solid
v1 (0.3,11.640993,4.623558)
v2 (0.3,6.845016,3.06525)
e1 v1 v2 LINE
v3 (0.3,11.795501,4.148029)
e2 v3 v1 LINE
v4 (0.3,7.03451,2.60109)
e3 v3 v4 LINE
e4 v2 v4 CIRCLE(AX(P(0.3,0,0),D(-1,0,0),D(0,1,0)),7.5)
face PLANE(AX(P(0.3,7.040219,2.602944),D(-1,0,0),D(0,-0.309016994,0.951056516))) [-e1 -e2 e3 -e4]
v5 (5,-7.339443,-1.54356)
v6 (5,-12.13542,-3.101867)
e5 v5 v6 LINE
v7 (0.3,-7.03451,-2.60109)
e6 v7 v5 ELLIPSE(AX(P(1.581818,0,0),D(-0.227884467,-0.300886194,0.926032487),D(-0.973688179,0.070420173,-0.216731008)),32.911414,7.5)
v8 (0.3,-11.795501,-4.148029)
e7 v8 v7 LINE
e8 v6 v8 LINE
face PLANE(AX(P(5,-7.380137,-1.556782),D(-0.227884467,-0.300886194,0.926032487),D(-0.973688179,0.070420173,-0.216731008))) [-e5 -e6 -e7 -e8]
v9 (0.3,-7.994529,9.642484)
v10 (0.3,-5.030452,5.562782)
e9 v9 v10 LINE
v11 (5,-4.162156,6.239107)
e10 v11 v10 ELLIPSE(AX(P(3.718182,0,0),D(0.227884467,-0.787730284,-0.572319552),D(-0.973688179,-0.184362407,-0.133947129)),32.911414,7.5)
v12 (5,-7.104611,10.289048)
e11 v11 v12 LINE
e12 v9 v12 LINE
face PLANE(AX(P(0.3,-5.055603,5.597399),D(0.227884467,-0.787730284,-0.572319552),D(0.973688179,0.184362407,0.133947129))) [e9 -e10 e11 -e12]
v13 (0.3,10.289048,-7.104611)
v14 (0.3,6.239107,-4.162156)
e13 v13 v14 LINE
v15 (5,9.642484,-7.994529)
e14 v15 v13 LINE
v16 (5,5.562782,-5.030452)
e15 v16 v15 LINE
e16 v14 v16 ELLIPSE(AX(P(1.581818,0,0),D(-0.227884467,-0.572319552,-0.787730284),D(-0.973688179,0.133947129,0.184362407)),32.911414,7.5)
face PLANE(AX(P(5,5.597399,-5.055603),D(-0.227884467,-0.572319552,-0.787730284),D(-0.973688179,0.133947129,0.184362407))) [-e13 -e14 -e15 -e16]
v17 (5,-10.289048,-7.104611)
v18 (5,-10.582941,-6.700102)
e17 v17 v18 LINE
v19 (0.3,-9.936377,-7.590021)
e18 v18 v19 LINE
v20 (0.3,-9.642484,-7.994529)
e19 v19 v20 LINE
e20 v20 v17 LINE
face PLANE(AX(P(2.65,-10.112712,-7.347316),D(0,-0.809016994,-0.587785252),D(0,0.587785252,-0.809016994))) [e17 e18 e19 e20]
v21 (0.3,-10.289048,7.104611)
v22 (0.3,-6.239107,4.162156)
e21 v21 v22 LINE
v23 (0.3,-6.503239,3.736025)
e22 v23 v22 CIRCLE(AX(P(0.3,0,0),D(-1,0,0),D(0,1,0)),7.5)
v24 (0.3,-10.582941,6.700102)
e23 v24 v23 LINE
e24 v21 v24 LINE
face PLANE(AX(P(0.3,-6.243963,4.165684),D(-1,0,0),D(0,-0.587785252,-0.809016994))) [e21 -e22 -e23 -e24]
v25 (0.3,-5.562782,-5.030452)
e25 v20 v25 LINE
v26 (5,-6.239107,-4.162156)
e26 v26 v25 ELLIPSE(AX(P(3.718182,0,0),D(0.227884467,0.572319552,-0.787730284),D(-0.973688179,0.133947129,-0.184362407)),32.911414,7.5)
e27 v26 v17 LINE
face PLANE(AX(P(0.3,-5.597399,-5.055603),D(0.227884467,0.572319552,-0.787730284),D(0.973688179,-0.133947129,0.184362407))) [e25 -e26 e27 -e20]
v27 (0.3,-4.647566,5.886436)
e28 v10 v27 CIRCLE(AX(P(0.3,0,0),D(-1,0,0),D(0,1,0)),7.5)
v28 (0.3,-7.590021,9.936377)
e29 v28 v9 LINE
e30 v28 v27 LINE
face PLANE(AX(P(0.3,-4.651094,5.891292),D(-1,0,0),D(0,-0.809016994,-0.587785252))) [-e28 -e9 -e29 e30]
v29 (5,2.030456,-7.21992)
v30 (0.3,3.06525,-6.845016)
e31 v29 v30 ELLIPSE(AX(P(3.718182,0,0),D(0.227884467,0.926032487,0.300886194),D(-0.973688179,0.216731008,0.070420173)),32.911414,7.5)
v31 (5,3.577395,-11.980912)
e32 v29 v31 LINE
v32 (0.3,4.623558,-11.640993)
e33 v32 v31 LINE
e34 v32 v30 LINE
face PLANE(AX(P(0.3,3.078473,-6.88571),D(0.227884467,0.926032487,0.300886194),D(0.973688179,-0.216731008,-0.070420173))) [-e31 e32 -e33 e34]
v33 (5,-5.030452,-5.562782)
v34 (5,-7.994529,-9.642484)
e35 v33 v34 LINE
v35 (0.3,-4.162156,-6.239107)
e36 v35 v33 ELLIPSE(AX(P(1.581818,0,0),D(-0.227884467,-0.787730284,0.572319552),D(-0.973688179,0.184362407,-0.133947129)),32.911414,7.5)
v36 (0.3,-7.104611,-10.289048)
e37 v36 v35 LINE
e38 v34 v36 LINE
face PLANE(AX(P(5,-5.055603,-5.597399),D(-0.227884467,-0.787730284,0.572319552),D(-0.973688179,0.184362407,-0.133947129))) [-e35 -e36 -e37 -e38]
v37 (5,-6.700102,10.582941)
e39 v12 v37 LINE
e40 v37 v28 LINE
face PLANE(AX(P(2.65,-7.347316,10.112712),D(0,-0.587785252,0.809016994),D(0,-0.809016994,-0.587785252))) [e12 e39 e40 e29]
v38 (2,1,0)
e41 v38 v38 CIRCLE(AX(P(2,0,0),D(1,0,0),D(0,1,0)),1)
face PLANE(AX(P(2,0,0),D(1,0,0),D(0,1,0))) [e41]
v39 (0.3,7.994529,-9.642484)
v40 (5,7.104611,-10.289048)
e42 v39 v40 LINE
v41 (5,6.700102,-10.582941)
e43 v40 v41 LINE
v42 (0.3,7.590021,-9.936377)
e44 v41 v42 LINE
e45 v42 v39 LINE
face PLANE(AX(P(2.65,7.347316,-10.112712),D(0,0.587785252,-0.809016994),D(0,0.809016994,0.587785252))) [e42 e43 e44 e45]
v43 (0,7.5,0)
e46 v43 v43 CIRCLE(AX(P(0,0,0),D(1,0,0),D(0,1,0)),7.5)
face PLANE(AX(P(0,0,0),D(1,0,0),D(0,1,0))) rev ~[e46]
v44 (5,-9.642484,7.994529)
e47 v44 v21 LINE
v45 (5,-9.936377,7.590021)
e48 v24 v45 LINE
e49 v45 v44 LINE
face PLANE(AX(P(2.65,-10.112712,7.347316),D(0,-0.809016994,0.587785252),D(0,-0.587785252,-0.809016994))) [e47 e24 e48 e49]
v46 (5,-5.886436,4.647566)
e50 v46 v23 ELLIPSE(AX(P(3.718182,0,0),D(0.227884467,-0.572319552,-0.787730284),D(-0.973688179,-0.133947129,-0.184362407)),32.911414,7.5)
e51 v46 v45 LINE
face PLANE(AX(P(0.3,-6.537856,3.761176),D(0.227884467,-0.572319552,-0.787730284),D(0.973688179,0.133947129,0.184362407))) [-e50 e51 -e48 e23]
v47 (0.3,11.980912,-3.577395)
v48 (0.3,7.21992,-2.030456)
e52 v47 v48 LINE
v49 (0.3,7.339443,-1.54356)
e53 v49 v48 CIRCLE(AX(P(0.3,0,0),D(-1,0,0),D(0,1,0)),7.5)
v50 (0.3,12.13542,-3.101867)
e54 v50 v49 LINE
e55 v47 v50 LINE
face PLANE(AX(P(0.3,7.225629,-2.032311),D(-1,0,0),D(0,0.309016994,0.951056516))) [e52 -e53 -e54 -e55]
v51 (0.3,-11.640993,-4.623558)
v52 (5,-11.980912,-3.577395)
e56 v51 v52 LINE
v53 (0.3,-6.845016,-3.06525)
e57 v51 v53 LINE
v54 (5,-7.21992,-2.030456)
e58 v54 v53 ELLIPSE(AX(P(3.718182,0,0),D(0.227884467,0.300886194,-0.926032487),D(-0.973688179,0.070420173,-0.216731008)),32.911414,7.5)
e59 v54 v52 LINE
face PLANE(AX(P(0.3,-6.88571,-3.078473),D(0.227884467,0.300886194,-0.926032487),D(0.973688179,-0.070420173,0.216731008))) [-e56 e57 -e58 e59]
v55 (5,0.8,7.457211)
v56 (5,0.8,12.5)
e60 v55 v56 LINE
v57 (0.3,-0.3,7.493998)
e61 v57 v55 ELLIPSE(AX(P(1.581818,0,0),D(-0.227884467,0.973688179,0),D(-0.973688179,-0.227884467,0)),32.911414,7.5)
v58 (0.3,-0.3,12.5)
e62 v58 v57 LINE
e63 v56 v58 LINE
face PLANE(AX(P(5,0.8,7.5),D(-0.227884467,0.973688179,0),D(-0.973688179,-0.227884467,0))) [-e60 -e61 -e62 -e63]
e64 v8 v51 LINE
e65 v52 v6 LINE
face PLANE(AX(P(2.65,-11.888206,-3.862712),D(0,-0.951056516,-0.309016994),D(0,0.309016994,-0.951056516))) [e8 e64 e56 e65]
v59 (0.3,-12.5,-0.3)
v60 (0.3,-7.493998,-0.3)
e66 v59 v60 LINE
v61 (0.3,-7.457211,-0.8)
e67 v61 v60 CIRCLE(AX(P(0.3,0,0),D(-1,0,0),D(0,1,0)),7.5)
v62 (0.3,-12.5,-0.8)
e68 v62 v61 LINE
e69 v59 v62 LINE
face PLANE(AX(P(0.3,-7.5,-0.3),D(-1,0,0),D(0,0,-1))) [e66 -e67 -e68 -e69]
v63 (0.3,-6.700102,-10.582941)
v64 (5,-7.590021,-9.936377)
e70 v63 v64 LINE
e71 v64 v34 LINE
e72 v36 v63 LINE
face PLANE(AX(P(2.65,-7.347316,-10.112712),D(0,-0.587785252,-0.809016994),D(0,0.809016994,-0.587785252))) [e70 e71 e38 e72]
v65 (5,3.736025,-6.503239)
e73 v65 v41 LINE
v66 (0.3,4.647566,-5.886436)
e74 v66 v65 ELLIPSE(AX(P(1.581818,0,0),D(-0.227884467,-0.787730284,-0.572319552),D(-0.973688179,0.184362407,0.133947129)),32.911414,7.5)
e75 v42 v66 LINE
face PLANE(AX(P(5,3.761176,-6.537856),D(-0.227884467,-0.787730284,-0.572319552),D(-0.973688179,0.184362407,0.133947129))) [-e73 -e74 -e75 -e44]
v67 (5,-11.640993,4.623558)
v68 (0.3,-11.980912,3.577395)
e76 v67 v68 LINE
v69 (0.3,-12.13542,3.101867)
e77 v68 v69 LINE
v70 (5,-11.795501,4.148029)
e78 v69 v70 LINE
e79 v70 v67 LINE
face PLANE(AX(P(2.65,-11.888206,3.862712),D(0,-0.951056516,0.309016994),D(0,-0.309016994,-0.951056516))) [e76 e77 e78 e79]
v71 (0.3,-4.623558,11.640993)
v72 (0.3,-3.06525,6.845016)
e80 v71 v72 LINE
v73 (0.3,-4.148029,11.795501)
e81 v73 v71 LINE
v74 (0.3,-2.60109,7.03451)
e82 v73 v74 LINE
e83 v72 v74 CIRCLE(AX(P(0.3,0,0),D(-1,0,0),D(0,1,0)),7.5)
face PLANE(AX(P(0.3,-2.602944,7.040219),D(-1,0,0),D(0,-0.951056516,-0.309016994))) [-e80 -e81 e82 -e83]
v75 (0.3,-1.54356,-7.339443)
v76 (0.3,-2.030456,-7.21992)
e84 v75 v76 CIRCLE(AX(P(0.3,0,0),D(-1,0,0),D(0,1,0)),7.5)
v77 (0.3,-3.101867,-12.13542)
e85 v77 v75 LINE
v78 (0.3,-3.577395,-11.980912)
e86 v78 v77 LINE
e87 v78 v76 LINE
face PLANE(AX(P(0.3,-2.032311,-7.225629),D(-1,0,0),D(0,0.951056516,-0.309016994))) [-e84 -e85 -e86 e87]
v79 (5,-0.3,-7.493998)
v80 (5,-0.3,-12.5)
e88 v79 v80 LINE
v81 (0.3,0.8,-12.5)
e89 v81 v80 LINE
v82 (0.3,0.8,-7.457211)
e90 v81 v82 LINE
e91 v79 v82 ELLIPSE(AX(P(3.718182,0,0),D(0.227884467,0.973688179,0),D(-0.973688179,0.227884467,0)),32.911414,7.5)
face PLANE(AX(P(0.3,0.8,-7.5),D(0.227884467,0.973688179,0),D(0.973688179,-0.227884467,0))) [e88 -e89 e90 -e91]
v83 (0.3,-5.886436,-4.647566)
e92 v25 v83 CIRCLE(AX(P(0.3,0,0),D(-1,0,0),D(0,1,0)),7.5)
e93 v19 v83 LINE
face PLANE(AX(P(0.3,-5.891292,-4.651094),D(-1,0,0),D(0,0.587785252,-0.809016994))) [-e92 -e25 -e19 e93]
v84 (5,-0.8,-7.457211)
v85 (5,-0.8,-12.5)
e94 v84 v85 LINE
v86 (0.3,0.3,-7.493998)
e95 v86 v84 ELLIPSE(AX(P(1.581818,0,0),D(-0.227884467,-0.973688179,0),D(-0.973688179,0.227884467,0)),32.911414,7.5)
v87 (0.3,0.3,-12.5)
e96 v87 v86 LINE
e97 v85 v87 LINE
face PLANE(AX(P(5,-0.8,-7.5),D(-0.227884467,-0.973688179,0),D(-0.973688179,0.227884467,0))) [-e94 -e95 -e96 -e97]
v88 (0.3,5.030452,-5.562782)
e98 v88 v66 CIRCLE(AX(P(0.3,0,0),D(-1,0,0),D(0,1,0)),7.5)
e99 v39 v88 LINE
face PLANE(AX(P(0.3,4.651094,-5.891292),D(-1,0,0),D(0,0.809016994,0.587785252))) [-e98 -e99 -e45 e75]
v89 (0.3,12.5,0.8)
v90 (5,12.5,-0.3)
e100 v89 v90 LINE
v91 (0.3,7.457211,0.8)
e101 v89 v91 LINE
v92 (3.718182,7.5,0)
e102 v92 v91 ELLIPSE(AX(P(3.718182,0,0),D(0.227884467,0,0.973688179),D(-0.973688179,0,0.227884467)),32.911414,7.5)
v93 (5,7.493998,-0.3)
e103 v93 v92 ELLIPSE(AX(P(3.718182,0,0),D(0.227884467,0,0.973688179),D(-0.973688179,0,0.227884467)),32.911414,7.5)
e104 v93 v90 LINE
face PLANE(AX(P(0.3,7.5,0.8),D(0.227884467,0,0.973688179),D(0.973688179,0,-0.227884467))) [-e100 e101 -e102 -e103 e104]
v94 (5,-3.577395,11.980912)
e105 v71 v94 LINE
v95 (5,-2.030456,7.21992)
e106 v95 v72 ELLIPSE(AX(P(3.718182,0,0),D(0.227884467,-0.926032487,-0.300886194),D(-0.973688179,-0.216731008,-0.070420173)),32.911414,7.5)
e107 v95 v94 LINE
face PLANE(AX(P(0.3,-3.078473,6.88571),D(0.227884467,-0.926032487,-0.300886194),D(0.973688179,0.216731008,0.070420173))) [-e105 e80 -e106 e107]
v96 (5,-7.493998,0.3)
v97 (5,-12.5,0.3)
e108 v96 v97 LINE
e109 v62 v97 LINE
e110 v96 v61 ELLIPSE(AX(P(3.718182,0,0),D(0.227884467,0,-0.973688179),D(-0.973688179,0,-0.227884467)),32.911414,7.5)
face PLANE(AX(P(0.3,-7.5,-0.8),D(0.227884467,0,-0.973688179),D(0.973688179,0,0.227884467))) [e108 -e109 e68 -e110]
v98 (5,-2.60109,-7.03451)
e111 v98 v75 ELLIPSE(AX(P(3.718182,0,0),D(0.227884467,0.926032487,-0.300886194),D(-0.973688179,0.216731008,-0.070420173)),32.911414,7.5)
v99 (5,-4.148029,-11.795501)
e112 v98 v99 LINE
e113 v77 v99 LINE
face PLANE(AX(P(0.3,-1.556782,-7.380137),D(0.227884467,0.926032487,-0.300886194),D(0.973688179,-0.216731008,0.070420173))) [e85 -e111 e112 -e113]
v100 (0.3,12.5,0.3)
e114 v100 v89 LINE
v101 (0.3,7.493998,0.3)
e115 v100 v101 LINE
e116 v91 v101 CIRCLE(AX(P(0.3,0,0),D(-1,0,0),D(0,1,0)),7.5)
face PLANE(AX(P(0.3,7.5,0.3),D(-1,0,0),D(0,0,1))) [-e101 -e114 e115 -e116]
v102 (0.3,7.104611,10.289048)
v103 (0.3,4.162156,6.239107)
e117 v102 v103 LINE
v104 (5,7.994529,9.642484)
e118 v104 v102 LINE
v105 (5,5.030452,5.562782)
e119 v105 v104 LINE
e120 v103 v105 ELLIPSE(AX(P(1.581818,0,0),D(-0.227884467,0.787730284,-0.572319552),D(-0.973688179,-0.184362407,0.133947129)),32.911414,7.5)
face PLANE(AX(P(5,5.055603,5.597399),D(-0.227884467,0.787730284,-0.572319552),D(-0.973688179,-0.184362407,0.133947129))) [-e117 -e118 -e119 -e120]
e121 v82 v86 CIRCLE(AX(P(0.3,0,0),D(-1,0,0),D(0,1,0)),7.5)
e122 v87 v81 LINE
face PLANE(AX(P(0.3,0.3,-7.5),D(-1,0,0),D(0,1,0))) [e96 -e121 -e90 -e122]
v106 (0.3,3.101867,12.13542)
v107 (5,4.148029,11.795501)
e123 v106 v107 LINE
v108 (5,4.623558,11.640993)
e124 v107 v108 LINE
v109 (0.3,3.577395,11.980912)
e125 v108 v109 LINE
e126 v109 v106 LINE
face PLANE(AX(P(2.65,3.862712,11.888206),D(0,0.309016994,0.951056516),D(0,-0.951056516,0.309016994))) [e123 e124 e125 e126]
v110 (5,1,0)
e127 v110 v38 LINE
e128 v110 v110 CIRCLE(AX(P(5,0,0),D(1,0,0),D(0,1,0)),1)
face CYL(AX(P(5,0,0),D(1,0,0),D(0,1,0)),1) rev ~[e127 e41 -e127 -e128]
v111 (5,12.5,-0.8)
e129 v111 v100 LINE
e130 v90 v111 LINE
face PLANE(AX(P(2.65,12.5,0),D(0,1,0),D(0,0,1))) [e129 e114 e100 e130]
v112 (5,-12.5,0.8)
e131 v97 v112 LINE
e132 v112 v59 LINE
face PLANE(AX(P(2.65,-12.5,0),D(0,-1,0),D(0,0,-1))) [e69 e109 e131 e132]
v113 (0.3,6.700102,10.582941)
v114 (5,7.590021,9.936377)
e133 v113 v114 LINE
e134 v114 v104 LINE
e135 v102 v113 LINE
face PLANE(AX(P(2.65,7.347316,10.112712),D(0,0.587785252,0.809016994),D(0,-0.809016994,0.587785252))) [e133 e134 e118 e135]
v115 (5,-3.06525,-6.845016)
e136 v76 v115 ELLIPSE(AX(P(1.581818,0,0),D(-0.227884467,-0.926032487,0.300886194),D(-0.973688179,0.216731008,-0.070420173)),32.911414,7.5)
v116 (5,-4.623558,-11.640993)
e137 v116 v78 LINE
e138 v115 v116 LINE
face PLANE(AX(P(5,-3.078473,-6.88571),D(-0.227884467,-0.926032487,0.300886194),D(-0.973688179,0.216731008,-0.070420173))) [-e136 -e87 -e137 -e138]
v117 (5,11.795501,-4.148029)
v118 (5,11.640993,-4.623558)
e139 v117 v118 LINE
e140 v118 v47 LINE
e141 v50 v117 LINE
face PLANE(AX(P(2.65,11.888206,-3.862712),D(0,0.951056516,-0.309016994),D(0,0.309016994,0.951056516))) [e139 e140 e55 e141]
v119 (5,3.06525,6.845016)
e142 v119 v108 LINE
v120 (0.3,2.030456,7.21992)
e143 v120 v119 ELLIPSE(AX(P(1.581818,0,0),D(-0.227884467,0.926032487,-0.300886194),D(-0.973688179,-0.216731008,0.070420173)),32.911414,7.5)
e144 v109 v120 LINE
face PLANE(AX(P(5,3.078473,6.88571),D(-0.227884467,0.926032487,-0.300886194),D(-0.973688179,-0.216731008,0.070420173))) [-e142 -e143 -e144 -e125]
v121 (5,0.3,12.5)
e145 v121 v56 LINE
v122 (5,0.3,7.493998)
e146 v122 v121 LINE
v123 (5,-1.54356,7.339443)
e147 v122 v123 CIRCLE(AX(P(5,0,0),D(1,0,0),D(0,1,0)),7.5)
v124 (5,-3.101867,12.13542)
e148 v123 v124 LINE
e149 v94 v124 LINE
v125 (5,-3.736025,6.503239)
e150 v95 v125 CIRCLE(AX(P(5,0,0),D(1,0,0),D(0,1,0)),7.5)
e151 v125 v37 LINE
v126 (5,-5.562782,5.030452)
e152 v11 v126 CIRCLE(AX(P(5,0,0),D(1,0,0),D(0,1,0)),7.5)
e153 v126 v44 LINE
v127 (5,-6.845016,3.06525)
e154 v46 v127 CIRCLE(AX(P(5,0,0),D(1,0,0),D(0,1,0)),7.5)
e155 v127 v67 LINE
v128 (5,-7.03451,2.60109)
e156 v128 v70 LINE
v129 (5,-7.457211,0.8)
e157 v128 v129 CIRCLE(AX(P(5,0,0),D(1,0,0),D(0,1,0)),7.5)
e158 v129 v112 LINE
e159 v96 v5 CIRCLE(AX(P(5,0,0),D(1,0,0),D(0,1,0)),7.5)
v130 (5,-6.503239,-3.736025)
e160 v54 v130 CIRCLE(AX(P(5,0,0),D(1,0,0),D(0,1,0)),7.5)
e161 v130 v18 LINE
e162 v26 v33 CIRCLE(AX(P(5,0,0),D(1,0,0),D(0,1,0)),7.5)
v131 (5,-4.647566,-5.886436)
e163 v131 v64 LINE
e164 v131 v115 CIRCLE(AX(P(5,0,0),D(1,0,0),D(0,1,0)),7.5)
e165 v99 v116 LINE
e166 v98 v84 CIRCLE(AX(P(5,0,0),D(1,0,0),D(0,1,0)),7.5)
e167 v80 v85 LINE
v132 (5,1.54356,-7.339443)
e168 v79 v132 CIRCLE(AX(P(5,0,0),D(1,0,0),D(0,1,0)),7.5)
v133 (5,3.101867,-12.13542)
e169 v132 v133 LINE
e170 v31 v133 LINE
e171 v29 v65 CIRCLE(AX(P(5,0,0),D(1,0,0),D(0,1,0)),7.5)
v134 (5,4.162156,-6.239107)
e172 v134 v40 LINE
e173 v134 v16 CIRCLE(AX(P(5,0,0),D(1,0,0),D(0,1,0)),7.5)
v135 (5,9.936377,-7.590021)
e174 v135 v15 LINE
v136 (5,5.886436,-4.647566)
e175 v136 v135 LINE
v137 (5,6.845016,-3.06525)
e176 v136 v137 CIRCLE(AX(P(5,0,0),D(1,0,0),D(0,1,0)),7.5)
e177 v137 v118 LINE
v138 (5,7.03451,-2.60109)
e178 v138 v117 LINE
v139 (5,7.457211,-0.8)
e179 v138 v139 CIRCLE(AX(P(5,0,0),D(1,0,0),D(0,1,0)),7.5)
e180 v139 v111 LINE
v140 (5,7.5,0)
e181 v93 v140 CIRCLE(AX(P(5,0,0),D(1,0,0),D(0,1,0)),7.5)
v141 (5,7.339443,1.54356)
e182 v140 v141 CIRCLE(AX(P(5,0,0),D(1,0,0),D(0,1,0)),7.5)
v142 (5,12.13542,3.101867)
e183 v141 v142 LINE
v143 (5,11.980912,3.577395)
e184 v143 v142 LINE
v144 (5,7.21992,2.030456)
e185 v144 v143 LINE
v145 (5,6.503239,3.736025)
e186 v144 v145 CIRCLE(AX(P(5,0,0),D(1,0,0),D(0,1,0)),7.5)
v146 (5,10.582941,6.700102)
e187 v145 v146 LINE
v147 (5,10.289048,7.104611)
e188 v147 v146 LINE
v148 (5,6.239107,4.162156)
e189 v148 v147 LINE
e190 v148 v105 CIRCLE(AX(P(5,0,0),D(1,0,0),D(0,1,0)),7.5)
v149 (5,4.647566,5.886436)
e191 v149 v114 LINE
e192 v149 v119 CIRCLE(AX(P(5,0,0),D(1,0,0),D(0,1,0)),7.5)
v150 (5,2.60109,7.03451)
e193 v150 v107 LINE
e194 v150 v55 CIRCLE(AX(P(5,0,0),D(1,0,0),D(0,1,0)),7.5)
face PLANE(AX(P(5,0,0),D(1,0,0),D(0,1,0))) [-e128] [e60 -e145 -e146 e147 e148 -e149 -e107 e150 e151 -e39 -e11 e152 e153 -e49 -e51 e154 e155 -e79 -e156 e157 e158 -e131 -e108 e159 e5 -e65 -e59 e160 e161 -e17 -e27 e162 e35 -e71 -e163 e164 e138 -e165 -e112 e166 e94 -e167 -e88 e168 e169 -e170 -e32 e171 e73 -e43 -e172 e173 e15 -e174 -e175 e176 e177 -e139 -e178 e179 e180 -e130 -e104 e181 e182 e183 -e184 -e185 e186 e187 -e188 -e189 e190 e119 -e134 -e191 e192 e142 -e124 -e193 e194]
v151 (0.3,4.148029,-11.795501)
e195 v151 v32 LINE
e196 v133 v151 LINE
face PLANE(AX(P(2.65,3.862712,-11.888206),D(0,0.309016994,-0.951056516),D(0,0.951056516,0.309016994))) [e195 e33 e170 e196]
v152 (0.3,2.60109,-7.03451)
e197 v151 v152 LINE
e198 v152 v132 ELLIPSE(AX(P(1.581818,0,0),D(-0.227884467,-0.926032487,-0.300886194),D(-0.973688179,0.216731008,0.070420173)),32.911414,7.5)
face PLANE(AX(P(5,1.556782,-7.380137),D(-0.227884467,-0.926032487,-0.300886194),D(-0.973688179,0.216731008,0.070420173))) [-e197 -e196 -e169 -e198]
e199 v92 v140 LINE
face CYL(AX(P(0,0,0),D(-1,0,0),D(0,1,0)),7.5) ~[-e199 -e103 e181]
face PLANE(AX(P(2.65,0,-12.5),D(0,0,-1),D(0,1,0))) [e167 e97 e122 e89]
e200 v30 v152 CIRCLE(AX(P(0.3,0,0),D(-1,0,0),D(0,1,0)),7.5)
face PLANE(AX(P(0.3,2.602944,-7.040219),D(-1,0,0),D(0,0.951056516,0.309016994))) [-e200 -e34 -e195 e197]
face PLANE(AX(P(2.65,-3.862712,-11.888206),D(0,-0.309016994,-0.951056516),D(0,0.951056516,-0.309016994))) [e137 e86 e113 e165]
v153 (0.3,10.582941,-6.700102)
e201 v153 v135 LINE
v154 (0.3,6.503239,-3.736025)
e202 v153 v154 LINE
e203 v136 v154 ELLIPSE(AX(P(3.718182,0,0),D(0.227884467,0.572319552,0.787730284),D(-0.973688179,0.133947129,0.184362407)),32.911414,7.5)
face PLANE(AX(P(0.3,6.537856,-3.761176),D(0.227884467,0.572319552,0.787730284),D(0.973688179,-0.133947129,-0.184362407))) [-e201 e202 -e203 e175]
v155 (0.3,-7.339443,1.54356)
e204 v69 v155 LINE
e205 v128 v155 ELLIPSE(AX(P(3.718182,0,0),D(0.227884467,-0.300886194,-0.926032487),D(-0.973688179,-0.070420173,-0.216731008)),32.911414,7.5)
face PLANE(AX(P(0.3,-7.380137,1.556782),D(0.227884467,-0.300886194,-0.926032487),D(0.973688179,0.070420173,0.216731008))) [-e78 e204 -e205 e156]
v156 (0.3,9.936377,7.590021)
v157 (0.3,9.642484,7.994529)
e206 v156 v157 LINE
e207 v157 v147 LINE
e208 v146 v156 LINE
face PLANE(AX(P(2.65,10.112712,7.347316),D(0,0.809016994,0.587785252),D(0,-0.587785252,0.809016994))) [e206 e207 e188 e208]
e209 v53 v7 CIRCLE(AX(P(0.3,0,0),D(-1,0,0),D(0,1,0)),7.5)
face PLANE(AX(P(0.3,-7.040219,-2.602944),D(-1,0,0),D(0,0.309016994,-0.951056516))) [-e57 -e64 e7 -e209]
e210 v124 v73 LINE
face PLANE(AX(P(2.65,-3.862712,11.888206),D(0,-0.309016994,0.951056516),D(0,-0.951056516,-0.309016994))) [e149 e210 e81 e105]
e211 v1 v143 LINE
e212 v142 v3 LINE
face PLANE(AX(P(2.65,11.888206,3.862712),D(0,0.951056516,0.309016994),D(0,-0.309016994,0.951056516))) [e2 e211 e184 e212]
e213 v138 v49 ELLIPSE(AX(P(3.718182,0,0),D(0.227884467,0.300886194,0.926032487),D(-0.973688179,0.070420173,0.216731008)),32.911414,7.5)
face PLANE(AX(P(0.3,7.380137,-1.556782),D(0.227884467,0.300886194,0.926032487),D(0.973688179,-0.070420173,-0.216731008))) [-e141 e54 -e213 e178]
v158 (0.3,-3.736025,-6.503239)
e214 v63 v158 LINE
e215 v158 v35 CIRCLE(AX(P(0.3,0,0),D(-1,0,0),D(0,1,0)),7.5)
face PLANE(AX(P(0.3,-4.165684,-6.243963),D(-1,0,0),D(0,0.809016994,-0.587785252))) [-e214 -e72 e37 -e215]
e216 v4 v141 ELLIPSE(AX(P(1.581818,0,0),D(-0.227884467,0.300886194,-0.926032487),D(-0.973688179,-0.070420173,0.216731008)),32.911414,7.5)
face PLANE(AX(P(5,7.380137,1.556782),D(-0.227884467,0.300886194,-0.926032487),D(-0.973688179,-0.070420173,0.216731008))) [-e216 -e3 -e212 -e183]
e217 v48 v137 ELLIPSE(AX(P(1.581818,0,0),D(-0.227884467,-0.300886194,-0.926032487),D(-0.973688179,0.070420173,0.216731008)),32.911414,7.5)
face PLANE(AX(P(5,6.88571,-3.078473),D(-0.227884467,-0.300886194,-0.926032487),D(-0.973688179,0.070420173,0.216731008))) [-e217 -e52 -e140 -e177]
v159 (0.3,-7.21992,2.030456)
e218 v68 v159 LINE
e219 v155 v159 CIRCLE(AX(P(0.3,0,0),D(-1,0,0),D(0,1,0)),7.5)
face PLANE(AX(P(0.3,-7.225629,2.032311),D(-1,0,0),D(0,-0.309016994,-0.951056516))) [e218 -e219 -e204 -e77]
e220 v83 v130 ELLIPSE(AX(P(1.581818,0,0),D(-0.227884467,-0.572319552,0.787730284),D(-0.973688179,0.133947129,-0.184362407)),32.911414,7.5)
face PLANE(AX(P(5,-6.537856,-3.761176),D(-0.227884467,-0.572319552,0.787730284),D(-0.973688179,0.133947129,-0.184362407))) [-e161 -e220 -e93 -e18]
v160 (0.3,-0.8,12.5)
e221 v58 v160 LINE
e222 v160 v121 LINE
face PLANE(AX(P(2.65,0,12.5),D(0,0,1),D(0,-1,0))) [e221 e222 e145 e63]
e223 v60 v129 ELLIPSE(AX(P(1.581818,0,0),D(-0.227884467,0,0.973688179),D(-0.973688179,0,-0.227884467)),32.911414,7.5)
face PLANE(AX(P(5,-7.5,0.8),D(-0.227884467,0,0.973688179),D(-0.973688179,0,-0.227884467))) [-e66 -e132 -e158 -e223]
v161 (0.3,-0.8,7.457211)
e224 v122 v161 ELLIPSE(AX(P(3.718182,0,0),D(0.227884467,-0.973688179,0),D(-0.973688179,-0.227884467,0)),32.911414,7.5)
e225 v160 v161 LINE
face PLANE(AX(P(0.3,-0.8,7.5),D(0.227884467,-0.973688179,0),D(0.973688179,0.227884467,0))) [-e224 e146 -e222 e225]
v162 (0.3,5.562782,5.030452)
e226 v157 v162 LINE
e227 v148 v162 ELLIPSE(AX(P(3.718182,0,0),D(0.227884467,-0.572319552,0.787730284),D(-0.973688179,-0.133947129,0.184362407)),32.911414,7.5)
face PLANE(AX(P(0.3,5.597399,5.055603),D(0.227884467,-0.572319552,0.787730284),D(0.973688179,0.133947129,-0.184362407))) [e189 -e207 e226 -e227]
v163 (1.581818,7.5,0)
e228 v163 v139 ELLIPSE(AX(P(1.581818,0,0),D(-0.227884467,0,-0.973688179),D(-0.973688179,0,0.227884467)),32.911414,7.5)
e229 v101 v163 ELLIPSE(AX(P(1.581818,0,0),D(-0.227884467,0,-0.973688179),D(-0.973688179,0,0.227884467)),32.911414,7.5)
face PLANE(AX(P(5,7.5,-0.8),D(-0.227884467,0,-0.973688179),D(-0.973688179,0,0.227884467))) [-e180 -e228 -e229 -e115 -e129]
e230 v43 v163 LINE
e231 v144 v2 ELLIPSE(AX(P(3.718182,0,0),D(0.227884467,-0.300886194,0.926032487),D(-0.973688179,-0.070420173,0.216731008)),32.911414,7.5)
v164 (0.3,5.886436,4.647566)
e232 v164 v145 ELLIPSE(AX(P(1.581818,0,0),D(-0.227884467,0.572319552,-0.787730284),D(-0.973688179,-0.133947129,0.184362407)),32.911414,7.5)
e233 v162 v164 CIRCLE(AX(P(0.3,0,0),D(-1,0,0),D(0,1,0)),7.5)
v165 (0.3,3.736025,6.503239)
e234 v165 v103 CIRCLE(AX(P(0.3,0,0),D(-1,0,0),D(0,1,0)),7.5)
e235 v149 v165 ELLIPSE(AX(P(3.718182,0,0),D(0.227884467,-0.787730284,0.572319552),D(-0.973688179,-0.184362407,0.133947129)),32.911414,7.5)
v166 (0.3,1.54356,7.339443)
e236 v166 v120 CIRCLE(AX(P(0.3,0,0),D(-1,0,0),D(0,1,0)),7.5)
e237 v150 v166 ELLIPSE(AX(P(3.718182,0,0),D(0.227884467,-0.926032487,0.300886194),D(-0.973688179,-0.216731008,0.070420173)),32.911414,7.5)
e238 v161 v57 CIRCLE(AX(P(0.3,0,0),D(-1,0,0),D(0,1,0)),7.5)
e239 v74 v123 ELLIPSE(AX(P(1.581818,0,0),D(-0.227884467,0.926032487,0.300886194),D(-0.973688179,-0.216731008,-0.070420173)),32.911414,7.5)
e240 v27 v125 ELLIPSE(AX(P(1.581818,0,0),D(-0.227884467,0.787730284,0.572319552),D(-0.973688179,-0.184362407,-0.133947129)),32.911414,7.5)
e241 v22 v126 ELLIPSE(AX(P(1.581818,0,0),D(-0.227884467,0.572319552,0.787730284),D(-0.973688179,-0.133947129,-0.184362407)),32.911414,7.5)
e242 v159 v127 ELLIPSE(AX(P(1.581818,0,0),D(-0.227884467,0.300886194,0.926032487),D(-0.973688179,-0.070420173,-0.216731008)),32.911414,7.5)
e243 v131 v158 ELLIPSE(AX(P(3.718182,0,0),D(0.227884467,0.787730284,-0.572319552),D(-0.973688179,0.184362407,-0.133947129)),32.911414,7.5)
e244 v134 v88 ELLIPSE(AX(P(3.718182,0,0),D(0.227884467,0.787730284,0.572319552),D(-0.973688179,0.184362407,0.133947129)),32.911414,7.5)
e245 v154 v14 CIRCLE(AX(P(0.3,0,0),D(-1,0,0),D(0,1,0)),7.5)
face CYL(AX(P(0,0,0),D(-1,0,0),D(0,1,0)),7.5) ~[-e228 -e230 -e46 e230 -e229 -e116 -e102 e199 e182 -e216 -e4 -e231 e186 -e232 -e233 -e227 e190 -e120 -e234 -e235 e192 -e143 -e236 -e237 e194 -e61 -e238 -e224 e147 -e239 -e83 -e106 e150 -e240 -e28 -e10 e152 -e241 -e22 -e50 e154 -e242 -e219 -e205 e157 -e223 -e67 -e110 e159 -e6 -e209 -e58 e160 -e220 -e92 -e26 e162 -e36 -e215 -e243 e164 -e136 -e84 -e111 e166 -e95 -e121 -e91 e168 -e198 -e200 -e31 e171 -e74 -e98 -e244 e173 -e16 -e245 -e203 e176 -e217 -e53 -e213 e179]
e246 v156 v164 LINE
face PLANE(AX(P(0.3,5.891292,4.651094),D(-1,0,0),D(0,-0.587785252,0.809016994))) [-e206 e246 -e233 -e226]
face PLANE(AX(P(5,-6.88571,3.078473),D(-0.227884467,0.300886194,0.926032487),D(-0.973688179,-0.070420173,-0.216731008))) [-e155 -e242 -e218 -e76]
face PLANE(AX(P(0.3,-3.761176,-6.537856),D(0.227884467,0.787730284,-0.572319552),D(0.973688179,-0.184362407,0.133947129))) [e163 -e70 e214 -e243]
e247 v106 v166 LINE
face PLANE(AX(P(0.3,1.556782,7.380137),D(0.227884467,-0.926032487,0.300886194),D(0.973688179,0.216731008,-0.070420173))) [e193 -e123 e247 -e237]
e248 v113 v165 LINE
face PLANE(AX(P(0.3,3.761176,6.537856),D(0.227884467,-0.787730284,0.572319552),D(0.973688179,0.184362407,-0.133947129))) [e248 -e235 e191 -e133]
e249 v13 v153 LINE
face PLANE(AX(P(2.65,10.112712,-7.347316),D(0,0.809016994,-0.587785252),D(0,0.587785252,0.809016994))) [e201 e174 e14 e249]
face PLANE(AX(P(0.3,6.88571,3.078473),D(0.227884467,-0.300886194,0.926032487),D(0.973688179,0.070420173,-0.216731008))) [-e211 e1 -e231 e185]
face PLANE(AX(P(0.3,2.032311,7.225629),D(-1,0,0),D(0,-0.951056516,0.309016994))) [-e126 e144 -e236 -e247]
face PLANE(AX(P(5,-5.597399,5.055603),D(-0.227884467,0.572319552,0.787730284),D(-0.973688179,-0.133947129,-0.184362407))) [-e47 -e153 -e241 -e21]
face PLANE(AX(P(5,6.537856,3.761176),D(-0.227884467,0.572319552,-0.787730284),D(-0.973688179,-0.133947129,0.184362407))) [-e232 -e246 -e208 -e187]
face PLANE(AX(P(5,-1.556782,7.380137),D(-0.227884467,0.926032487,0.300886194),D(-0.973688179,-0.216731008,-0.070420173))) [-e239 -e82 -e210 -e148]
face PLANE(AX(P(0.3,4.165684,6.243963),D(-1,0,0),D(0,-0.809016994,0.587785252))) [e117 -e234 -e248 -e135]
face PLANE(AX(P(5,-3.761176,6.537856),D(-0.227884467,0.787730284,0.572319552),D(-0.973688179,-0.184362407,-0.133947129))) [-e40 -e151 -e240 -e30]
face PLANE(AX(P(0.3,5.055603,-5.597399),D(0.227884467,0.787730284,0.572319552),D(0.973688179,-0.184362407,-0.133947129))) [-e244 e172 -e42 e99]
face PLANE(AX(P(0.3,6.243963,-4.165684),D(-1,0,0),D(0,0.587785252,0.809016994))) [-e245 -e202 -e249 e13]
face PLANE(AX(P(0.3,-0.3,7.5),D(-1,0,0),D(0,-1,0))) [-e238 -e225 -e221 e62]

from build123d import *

# Parameters (mm, degrees)
SKETCH_R           = 7.5
PAD_DEPTH          = 5
SKETCH001_R        = 1
POCKET_DEPTH       = 3
PAD001_DEPTH       = 5
POLARPATTERN_COUNT = 20


with BuildPart() as part:
    # Sketch → Pad (new body)
    with BuildSketch(Plane.YZ):
        Circle(SKETCH_R)
    extrude(amount=PAD_DEPTH)

    # Sketch001 (on Face3 of Pad) → Pocket (cut)
    with BuildSketch(Plane.YZ.offset(5)):
        Circle(SKETCH001_R)
    extrude(amount=-POCKET_DEPTH, mode=Mode.SUBTRACT)

    # Sketch002 (on DatumPlane) → Pad001 (join, symmetric)
    with BuildSketch(Plane.ZX.offset(7.5)):
        Polygon((0.8, 0.3), (-0.3, 5), (-0.8, 5), (0.3, 0.3), align=None)
    pad001 = extrude(amount=PAD001_DEPTH, both=True)

    # PolarPattern: Pad001 ×20 about axis
    polarpattern_axis = Axis((0, 0, 0), (1, 0, 0))
    for i in range(1, POLARPATTERN_COUNT):
        add(pad001.rotate(polarpattern_axis, i * 360 / POLARPATTERN_COUNT))


solid = part.part
